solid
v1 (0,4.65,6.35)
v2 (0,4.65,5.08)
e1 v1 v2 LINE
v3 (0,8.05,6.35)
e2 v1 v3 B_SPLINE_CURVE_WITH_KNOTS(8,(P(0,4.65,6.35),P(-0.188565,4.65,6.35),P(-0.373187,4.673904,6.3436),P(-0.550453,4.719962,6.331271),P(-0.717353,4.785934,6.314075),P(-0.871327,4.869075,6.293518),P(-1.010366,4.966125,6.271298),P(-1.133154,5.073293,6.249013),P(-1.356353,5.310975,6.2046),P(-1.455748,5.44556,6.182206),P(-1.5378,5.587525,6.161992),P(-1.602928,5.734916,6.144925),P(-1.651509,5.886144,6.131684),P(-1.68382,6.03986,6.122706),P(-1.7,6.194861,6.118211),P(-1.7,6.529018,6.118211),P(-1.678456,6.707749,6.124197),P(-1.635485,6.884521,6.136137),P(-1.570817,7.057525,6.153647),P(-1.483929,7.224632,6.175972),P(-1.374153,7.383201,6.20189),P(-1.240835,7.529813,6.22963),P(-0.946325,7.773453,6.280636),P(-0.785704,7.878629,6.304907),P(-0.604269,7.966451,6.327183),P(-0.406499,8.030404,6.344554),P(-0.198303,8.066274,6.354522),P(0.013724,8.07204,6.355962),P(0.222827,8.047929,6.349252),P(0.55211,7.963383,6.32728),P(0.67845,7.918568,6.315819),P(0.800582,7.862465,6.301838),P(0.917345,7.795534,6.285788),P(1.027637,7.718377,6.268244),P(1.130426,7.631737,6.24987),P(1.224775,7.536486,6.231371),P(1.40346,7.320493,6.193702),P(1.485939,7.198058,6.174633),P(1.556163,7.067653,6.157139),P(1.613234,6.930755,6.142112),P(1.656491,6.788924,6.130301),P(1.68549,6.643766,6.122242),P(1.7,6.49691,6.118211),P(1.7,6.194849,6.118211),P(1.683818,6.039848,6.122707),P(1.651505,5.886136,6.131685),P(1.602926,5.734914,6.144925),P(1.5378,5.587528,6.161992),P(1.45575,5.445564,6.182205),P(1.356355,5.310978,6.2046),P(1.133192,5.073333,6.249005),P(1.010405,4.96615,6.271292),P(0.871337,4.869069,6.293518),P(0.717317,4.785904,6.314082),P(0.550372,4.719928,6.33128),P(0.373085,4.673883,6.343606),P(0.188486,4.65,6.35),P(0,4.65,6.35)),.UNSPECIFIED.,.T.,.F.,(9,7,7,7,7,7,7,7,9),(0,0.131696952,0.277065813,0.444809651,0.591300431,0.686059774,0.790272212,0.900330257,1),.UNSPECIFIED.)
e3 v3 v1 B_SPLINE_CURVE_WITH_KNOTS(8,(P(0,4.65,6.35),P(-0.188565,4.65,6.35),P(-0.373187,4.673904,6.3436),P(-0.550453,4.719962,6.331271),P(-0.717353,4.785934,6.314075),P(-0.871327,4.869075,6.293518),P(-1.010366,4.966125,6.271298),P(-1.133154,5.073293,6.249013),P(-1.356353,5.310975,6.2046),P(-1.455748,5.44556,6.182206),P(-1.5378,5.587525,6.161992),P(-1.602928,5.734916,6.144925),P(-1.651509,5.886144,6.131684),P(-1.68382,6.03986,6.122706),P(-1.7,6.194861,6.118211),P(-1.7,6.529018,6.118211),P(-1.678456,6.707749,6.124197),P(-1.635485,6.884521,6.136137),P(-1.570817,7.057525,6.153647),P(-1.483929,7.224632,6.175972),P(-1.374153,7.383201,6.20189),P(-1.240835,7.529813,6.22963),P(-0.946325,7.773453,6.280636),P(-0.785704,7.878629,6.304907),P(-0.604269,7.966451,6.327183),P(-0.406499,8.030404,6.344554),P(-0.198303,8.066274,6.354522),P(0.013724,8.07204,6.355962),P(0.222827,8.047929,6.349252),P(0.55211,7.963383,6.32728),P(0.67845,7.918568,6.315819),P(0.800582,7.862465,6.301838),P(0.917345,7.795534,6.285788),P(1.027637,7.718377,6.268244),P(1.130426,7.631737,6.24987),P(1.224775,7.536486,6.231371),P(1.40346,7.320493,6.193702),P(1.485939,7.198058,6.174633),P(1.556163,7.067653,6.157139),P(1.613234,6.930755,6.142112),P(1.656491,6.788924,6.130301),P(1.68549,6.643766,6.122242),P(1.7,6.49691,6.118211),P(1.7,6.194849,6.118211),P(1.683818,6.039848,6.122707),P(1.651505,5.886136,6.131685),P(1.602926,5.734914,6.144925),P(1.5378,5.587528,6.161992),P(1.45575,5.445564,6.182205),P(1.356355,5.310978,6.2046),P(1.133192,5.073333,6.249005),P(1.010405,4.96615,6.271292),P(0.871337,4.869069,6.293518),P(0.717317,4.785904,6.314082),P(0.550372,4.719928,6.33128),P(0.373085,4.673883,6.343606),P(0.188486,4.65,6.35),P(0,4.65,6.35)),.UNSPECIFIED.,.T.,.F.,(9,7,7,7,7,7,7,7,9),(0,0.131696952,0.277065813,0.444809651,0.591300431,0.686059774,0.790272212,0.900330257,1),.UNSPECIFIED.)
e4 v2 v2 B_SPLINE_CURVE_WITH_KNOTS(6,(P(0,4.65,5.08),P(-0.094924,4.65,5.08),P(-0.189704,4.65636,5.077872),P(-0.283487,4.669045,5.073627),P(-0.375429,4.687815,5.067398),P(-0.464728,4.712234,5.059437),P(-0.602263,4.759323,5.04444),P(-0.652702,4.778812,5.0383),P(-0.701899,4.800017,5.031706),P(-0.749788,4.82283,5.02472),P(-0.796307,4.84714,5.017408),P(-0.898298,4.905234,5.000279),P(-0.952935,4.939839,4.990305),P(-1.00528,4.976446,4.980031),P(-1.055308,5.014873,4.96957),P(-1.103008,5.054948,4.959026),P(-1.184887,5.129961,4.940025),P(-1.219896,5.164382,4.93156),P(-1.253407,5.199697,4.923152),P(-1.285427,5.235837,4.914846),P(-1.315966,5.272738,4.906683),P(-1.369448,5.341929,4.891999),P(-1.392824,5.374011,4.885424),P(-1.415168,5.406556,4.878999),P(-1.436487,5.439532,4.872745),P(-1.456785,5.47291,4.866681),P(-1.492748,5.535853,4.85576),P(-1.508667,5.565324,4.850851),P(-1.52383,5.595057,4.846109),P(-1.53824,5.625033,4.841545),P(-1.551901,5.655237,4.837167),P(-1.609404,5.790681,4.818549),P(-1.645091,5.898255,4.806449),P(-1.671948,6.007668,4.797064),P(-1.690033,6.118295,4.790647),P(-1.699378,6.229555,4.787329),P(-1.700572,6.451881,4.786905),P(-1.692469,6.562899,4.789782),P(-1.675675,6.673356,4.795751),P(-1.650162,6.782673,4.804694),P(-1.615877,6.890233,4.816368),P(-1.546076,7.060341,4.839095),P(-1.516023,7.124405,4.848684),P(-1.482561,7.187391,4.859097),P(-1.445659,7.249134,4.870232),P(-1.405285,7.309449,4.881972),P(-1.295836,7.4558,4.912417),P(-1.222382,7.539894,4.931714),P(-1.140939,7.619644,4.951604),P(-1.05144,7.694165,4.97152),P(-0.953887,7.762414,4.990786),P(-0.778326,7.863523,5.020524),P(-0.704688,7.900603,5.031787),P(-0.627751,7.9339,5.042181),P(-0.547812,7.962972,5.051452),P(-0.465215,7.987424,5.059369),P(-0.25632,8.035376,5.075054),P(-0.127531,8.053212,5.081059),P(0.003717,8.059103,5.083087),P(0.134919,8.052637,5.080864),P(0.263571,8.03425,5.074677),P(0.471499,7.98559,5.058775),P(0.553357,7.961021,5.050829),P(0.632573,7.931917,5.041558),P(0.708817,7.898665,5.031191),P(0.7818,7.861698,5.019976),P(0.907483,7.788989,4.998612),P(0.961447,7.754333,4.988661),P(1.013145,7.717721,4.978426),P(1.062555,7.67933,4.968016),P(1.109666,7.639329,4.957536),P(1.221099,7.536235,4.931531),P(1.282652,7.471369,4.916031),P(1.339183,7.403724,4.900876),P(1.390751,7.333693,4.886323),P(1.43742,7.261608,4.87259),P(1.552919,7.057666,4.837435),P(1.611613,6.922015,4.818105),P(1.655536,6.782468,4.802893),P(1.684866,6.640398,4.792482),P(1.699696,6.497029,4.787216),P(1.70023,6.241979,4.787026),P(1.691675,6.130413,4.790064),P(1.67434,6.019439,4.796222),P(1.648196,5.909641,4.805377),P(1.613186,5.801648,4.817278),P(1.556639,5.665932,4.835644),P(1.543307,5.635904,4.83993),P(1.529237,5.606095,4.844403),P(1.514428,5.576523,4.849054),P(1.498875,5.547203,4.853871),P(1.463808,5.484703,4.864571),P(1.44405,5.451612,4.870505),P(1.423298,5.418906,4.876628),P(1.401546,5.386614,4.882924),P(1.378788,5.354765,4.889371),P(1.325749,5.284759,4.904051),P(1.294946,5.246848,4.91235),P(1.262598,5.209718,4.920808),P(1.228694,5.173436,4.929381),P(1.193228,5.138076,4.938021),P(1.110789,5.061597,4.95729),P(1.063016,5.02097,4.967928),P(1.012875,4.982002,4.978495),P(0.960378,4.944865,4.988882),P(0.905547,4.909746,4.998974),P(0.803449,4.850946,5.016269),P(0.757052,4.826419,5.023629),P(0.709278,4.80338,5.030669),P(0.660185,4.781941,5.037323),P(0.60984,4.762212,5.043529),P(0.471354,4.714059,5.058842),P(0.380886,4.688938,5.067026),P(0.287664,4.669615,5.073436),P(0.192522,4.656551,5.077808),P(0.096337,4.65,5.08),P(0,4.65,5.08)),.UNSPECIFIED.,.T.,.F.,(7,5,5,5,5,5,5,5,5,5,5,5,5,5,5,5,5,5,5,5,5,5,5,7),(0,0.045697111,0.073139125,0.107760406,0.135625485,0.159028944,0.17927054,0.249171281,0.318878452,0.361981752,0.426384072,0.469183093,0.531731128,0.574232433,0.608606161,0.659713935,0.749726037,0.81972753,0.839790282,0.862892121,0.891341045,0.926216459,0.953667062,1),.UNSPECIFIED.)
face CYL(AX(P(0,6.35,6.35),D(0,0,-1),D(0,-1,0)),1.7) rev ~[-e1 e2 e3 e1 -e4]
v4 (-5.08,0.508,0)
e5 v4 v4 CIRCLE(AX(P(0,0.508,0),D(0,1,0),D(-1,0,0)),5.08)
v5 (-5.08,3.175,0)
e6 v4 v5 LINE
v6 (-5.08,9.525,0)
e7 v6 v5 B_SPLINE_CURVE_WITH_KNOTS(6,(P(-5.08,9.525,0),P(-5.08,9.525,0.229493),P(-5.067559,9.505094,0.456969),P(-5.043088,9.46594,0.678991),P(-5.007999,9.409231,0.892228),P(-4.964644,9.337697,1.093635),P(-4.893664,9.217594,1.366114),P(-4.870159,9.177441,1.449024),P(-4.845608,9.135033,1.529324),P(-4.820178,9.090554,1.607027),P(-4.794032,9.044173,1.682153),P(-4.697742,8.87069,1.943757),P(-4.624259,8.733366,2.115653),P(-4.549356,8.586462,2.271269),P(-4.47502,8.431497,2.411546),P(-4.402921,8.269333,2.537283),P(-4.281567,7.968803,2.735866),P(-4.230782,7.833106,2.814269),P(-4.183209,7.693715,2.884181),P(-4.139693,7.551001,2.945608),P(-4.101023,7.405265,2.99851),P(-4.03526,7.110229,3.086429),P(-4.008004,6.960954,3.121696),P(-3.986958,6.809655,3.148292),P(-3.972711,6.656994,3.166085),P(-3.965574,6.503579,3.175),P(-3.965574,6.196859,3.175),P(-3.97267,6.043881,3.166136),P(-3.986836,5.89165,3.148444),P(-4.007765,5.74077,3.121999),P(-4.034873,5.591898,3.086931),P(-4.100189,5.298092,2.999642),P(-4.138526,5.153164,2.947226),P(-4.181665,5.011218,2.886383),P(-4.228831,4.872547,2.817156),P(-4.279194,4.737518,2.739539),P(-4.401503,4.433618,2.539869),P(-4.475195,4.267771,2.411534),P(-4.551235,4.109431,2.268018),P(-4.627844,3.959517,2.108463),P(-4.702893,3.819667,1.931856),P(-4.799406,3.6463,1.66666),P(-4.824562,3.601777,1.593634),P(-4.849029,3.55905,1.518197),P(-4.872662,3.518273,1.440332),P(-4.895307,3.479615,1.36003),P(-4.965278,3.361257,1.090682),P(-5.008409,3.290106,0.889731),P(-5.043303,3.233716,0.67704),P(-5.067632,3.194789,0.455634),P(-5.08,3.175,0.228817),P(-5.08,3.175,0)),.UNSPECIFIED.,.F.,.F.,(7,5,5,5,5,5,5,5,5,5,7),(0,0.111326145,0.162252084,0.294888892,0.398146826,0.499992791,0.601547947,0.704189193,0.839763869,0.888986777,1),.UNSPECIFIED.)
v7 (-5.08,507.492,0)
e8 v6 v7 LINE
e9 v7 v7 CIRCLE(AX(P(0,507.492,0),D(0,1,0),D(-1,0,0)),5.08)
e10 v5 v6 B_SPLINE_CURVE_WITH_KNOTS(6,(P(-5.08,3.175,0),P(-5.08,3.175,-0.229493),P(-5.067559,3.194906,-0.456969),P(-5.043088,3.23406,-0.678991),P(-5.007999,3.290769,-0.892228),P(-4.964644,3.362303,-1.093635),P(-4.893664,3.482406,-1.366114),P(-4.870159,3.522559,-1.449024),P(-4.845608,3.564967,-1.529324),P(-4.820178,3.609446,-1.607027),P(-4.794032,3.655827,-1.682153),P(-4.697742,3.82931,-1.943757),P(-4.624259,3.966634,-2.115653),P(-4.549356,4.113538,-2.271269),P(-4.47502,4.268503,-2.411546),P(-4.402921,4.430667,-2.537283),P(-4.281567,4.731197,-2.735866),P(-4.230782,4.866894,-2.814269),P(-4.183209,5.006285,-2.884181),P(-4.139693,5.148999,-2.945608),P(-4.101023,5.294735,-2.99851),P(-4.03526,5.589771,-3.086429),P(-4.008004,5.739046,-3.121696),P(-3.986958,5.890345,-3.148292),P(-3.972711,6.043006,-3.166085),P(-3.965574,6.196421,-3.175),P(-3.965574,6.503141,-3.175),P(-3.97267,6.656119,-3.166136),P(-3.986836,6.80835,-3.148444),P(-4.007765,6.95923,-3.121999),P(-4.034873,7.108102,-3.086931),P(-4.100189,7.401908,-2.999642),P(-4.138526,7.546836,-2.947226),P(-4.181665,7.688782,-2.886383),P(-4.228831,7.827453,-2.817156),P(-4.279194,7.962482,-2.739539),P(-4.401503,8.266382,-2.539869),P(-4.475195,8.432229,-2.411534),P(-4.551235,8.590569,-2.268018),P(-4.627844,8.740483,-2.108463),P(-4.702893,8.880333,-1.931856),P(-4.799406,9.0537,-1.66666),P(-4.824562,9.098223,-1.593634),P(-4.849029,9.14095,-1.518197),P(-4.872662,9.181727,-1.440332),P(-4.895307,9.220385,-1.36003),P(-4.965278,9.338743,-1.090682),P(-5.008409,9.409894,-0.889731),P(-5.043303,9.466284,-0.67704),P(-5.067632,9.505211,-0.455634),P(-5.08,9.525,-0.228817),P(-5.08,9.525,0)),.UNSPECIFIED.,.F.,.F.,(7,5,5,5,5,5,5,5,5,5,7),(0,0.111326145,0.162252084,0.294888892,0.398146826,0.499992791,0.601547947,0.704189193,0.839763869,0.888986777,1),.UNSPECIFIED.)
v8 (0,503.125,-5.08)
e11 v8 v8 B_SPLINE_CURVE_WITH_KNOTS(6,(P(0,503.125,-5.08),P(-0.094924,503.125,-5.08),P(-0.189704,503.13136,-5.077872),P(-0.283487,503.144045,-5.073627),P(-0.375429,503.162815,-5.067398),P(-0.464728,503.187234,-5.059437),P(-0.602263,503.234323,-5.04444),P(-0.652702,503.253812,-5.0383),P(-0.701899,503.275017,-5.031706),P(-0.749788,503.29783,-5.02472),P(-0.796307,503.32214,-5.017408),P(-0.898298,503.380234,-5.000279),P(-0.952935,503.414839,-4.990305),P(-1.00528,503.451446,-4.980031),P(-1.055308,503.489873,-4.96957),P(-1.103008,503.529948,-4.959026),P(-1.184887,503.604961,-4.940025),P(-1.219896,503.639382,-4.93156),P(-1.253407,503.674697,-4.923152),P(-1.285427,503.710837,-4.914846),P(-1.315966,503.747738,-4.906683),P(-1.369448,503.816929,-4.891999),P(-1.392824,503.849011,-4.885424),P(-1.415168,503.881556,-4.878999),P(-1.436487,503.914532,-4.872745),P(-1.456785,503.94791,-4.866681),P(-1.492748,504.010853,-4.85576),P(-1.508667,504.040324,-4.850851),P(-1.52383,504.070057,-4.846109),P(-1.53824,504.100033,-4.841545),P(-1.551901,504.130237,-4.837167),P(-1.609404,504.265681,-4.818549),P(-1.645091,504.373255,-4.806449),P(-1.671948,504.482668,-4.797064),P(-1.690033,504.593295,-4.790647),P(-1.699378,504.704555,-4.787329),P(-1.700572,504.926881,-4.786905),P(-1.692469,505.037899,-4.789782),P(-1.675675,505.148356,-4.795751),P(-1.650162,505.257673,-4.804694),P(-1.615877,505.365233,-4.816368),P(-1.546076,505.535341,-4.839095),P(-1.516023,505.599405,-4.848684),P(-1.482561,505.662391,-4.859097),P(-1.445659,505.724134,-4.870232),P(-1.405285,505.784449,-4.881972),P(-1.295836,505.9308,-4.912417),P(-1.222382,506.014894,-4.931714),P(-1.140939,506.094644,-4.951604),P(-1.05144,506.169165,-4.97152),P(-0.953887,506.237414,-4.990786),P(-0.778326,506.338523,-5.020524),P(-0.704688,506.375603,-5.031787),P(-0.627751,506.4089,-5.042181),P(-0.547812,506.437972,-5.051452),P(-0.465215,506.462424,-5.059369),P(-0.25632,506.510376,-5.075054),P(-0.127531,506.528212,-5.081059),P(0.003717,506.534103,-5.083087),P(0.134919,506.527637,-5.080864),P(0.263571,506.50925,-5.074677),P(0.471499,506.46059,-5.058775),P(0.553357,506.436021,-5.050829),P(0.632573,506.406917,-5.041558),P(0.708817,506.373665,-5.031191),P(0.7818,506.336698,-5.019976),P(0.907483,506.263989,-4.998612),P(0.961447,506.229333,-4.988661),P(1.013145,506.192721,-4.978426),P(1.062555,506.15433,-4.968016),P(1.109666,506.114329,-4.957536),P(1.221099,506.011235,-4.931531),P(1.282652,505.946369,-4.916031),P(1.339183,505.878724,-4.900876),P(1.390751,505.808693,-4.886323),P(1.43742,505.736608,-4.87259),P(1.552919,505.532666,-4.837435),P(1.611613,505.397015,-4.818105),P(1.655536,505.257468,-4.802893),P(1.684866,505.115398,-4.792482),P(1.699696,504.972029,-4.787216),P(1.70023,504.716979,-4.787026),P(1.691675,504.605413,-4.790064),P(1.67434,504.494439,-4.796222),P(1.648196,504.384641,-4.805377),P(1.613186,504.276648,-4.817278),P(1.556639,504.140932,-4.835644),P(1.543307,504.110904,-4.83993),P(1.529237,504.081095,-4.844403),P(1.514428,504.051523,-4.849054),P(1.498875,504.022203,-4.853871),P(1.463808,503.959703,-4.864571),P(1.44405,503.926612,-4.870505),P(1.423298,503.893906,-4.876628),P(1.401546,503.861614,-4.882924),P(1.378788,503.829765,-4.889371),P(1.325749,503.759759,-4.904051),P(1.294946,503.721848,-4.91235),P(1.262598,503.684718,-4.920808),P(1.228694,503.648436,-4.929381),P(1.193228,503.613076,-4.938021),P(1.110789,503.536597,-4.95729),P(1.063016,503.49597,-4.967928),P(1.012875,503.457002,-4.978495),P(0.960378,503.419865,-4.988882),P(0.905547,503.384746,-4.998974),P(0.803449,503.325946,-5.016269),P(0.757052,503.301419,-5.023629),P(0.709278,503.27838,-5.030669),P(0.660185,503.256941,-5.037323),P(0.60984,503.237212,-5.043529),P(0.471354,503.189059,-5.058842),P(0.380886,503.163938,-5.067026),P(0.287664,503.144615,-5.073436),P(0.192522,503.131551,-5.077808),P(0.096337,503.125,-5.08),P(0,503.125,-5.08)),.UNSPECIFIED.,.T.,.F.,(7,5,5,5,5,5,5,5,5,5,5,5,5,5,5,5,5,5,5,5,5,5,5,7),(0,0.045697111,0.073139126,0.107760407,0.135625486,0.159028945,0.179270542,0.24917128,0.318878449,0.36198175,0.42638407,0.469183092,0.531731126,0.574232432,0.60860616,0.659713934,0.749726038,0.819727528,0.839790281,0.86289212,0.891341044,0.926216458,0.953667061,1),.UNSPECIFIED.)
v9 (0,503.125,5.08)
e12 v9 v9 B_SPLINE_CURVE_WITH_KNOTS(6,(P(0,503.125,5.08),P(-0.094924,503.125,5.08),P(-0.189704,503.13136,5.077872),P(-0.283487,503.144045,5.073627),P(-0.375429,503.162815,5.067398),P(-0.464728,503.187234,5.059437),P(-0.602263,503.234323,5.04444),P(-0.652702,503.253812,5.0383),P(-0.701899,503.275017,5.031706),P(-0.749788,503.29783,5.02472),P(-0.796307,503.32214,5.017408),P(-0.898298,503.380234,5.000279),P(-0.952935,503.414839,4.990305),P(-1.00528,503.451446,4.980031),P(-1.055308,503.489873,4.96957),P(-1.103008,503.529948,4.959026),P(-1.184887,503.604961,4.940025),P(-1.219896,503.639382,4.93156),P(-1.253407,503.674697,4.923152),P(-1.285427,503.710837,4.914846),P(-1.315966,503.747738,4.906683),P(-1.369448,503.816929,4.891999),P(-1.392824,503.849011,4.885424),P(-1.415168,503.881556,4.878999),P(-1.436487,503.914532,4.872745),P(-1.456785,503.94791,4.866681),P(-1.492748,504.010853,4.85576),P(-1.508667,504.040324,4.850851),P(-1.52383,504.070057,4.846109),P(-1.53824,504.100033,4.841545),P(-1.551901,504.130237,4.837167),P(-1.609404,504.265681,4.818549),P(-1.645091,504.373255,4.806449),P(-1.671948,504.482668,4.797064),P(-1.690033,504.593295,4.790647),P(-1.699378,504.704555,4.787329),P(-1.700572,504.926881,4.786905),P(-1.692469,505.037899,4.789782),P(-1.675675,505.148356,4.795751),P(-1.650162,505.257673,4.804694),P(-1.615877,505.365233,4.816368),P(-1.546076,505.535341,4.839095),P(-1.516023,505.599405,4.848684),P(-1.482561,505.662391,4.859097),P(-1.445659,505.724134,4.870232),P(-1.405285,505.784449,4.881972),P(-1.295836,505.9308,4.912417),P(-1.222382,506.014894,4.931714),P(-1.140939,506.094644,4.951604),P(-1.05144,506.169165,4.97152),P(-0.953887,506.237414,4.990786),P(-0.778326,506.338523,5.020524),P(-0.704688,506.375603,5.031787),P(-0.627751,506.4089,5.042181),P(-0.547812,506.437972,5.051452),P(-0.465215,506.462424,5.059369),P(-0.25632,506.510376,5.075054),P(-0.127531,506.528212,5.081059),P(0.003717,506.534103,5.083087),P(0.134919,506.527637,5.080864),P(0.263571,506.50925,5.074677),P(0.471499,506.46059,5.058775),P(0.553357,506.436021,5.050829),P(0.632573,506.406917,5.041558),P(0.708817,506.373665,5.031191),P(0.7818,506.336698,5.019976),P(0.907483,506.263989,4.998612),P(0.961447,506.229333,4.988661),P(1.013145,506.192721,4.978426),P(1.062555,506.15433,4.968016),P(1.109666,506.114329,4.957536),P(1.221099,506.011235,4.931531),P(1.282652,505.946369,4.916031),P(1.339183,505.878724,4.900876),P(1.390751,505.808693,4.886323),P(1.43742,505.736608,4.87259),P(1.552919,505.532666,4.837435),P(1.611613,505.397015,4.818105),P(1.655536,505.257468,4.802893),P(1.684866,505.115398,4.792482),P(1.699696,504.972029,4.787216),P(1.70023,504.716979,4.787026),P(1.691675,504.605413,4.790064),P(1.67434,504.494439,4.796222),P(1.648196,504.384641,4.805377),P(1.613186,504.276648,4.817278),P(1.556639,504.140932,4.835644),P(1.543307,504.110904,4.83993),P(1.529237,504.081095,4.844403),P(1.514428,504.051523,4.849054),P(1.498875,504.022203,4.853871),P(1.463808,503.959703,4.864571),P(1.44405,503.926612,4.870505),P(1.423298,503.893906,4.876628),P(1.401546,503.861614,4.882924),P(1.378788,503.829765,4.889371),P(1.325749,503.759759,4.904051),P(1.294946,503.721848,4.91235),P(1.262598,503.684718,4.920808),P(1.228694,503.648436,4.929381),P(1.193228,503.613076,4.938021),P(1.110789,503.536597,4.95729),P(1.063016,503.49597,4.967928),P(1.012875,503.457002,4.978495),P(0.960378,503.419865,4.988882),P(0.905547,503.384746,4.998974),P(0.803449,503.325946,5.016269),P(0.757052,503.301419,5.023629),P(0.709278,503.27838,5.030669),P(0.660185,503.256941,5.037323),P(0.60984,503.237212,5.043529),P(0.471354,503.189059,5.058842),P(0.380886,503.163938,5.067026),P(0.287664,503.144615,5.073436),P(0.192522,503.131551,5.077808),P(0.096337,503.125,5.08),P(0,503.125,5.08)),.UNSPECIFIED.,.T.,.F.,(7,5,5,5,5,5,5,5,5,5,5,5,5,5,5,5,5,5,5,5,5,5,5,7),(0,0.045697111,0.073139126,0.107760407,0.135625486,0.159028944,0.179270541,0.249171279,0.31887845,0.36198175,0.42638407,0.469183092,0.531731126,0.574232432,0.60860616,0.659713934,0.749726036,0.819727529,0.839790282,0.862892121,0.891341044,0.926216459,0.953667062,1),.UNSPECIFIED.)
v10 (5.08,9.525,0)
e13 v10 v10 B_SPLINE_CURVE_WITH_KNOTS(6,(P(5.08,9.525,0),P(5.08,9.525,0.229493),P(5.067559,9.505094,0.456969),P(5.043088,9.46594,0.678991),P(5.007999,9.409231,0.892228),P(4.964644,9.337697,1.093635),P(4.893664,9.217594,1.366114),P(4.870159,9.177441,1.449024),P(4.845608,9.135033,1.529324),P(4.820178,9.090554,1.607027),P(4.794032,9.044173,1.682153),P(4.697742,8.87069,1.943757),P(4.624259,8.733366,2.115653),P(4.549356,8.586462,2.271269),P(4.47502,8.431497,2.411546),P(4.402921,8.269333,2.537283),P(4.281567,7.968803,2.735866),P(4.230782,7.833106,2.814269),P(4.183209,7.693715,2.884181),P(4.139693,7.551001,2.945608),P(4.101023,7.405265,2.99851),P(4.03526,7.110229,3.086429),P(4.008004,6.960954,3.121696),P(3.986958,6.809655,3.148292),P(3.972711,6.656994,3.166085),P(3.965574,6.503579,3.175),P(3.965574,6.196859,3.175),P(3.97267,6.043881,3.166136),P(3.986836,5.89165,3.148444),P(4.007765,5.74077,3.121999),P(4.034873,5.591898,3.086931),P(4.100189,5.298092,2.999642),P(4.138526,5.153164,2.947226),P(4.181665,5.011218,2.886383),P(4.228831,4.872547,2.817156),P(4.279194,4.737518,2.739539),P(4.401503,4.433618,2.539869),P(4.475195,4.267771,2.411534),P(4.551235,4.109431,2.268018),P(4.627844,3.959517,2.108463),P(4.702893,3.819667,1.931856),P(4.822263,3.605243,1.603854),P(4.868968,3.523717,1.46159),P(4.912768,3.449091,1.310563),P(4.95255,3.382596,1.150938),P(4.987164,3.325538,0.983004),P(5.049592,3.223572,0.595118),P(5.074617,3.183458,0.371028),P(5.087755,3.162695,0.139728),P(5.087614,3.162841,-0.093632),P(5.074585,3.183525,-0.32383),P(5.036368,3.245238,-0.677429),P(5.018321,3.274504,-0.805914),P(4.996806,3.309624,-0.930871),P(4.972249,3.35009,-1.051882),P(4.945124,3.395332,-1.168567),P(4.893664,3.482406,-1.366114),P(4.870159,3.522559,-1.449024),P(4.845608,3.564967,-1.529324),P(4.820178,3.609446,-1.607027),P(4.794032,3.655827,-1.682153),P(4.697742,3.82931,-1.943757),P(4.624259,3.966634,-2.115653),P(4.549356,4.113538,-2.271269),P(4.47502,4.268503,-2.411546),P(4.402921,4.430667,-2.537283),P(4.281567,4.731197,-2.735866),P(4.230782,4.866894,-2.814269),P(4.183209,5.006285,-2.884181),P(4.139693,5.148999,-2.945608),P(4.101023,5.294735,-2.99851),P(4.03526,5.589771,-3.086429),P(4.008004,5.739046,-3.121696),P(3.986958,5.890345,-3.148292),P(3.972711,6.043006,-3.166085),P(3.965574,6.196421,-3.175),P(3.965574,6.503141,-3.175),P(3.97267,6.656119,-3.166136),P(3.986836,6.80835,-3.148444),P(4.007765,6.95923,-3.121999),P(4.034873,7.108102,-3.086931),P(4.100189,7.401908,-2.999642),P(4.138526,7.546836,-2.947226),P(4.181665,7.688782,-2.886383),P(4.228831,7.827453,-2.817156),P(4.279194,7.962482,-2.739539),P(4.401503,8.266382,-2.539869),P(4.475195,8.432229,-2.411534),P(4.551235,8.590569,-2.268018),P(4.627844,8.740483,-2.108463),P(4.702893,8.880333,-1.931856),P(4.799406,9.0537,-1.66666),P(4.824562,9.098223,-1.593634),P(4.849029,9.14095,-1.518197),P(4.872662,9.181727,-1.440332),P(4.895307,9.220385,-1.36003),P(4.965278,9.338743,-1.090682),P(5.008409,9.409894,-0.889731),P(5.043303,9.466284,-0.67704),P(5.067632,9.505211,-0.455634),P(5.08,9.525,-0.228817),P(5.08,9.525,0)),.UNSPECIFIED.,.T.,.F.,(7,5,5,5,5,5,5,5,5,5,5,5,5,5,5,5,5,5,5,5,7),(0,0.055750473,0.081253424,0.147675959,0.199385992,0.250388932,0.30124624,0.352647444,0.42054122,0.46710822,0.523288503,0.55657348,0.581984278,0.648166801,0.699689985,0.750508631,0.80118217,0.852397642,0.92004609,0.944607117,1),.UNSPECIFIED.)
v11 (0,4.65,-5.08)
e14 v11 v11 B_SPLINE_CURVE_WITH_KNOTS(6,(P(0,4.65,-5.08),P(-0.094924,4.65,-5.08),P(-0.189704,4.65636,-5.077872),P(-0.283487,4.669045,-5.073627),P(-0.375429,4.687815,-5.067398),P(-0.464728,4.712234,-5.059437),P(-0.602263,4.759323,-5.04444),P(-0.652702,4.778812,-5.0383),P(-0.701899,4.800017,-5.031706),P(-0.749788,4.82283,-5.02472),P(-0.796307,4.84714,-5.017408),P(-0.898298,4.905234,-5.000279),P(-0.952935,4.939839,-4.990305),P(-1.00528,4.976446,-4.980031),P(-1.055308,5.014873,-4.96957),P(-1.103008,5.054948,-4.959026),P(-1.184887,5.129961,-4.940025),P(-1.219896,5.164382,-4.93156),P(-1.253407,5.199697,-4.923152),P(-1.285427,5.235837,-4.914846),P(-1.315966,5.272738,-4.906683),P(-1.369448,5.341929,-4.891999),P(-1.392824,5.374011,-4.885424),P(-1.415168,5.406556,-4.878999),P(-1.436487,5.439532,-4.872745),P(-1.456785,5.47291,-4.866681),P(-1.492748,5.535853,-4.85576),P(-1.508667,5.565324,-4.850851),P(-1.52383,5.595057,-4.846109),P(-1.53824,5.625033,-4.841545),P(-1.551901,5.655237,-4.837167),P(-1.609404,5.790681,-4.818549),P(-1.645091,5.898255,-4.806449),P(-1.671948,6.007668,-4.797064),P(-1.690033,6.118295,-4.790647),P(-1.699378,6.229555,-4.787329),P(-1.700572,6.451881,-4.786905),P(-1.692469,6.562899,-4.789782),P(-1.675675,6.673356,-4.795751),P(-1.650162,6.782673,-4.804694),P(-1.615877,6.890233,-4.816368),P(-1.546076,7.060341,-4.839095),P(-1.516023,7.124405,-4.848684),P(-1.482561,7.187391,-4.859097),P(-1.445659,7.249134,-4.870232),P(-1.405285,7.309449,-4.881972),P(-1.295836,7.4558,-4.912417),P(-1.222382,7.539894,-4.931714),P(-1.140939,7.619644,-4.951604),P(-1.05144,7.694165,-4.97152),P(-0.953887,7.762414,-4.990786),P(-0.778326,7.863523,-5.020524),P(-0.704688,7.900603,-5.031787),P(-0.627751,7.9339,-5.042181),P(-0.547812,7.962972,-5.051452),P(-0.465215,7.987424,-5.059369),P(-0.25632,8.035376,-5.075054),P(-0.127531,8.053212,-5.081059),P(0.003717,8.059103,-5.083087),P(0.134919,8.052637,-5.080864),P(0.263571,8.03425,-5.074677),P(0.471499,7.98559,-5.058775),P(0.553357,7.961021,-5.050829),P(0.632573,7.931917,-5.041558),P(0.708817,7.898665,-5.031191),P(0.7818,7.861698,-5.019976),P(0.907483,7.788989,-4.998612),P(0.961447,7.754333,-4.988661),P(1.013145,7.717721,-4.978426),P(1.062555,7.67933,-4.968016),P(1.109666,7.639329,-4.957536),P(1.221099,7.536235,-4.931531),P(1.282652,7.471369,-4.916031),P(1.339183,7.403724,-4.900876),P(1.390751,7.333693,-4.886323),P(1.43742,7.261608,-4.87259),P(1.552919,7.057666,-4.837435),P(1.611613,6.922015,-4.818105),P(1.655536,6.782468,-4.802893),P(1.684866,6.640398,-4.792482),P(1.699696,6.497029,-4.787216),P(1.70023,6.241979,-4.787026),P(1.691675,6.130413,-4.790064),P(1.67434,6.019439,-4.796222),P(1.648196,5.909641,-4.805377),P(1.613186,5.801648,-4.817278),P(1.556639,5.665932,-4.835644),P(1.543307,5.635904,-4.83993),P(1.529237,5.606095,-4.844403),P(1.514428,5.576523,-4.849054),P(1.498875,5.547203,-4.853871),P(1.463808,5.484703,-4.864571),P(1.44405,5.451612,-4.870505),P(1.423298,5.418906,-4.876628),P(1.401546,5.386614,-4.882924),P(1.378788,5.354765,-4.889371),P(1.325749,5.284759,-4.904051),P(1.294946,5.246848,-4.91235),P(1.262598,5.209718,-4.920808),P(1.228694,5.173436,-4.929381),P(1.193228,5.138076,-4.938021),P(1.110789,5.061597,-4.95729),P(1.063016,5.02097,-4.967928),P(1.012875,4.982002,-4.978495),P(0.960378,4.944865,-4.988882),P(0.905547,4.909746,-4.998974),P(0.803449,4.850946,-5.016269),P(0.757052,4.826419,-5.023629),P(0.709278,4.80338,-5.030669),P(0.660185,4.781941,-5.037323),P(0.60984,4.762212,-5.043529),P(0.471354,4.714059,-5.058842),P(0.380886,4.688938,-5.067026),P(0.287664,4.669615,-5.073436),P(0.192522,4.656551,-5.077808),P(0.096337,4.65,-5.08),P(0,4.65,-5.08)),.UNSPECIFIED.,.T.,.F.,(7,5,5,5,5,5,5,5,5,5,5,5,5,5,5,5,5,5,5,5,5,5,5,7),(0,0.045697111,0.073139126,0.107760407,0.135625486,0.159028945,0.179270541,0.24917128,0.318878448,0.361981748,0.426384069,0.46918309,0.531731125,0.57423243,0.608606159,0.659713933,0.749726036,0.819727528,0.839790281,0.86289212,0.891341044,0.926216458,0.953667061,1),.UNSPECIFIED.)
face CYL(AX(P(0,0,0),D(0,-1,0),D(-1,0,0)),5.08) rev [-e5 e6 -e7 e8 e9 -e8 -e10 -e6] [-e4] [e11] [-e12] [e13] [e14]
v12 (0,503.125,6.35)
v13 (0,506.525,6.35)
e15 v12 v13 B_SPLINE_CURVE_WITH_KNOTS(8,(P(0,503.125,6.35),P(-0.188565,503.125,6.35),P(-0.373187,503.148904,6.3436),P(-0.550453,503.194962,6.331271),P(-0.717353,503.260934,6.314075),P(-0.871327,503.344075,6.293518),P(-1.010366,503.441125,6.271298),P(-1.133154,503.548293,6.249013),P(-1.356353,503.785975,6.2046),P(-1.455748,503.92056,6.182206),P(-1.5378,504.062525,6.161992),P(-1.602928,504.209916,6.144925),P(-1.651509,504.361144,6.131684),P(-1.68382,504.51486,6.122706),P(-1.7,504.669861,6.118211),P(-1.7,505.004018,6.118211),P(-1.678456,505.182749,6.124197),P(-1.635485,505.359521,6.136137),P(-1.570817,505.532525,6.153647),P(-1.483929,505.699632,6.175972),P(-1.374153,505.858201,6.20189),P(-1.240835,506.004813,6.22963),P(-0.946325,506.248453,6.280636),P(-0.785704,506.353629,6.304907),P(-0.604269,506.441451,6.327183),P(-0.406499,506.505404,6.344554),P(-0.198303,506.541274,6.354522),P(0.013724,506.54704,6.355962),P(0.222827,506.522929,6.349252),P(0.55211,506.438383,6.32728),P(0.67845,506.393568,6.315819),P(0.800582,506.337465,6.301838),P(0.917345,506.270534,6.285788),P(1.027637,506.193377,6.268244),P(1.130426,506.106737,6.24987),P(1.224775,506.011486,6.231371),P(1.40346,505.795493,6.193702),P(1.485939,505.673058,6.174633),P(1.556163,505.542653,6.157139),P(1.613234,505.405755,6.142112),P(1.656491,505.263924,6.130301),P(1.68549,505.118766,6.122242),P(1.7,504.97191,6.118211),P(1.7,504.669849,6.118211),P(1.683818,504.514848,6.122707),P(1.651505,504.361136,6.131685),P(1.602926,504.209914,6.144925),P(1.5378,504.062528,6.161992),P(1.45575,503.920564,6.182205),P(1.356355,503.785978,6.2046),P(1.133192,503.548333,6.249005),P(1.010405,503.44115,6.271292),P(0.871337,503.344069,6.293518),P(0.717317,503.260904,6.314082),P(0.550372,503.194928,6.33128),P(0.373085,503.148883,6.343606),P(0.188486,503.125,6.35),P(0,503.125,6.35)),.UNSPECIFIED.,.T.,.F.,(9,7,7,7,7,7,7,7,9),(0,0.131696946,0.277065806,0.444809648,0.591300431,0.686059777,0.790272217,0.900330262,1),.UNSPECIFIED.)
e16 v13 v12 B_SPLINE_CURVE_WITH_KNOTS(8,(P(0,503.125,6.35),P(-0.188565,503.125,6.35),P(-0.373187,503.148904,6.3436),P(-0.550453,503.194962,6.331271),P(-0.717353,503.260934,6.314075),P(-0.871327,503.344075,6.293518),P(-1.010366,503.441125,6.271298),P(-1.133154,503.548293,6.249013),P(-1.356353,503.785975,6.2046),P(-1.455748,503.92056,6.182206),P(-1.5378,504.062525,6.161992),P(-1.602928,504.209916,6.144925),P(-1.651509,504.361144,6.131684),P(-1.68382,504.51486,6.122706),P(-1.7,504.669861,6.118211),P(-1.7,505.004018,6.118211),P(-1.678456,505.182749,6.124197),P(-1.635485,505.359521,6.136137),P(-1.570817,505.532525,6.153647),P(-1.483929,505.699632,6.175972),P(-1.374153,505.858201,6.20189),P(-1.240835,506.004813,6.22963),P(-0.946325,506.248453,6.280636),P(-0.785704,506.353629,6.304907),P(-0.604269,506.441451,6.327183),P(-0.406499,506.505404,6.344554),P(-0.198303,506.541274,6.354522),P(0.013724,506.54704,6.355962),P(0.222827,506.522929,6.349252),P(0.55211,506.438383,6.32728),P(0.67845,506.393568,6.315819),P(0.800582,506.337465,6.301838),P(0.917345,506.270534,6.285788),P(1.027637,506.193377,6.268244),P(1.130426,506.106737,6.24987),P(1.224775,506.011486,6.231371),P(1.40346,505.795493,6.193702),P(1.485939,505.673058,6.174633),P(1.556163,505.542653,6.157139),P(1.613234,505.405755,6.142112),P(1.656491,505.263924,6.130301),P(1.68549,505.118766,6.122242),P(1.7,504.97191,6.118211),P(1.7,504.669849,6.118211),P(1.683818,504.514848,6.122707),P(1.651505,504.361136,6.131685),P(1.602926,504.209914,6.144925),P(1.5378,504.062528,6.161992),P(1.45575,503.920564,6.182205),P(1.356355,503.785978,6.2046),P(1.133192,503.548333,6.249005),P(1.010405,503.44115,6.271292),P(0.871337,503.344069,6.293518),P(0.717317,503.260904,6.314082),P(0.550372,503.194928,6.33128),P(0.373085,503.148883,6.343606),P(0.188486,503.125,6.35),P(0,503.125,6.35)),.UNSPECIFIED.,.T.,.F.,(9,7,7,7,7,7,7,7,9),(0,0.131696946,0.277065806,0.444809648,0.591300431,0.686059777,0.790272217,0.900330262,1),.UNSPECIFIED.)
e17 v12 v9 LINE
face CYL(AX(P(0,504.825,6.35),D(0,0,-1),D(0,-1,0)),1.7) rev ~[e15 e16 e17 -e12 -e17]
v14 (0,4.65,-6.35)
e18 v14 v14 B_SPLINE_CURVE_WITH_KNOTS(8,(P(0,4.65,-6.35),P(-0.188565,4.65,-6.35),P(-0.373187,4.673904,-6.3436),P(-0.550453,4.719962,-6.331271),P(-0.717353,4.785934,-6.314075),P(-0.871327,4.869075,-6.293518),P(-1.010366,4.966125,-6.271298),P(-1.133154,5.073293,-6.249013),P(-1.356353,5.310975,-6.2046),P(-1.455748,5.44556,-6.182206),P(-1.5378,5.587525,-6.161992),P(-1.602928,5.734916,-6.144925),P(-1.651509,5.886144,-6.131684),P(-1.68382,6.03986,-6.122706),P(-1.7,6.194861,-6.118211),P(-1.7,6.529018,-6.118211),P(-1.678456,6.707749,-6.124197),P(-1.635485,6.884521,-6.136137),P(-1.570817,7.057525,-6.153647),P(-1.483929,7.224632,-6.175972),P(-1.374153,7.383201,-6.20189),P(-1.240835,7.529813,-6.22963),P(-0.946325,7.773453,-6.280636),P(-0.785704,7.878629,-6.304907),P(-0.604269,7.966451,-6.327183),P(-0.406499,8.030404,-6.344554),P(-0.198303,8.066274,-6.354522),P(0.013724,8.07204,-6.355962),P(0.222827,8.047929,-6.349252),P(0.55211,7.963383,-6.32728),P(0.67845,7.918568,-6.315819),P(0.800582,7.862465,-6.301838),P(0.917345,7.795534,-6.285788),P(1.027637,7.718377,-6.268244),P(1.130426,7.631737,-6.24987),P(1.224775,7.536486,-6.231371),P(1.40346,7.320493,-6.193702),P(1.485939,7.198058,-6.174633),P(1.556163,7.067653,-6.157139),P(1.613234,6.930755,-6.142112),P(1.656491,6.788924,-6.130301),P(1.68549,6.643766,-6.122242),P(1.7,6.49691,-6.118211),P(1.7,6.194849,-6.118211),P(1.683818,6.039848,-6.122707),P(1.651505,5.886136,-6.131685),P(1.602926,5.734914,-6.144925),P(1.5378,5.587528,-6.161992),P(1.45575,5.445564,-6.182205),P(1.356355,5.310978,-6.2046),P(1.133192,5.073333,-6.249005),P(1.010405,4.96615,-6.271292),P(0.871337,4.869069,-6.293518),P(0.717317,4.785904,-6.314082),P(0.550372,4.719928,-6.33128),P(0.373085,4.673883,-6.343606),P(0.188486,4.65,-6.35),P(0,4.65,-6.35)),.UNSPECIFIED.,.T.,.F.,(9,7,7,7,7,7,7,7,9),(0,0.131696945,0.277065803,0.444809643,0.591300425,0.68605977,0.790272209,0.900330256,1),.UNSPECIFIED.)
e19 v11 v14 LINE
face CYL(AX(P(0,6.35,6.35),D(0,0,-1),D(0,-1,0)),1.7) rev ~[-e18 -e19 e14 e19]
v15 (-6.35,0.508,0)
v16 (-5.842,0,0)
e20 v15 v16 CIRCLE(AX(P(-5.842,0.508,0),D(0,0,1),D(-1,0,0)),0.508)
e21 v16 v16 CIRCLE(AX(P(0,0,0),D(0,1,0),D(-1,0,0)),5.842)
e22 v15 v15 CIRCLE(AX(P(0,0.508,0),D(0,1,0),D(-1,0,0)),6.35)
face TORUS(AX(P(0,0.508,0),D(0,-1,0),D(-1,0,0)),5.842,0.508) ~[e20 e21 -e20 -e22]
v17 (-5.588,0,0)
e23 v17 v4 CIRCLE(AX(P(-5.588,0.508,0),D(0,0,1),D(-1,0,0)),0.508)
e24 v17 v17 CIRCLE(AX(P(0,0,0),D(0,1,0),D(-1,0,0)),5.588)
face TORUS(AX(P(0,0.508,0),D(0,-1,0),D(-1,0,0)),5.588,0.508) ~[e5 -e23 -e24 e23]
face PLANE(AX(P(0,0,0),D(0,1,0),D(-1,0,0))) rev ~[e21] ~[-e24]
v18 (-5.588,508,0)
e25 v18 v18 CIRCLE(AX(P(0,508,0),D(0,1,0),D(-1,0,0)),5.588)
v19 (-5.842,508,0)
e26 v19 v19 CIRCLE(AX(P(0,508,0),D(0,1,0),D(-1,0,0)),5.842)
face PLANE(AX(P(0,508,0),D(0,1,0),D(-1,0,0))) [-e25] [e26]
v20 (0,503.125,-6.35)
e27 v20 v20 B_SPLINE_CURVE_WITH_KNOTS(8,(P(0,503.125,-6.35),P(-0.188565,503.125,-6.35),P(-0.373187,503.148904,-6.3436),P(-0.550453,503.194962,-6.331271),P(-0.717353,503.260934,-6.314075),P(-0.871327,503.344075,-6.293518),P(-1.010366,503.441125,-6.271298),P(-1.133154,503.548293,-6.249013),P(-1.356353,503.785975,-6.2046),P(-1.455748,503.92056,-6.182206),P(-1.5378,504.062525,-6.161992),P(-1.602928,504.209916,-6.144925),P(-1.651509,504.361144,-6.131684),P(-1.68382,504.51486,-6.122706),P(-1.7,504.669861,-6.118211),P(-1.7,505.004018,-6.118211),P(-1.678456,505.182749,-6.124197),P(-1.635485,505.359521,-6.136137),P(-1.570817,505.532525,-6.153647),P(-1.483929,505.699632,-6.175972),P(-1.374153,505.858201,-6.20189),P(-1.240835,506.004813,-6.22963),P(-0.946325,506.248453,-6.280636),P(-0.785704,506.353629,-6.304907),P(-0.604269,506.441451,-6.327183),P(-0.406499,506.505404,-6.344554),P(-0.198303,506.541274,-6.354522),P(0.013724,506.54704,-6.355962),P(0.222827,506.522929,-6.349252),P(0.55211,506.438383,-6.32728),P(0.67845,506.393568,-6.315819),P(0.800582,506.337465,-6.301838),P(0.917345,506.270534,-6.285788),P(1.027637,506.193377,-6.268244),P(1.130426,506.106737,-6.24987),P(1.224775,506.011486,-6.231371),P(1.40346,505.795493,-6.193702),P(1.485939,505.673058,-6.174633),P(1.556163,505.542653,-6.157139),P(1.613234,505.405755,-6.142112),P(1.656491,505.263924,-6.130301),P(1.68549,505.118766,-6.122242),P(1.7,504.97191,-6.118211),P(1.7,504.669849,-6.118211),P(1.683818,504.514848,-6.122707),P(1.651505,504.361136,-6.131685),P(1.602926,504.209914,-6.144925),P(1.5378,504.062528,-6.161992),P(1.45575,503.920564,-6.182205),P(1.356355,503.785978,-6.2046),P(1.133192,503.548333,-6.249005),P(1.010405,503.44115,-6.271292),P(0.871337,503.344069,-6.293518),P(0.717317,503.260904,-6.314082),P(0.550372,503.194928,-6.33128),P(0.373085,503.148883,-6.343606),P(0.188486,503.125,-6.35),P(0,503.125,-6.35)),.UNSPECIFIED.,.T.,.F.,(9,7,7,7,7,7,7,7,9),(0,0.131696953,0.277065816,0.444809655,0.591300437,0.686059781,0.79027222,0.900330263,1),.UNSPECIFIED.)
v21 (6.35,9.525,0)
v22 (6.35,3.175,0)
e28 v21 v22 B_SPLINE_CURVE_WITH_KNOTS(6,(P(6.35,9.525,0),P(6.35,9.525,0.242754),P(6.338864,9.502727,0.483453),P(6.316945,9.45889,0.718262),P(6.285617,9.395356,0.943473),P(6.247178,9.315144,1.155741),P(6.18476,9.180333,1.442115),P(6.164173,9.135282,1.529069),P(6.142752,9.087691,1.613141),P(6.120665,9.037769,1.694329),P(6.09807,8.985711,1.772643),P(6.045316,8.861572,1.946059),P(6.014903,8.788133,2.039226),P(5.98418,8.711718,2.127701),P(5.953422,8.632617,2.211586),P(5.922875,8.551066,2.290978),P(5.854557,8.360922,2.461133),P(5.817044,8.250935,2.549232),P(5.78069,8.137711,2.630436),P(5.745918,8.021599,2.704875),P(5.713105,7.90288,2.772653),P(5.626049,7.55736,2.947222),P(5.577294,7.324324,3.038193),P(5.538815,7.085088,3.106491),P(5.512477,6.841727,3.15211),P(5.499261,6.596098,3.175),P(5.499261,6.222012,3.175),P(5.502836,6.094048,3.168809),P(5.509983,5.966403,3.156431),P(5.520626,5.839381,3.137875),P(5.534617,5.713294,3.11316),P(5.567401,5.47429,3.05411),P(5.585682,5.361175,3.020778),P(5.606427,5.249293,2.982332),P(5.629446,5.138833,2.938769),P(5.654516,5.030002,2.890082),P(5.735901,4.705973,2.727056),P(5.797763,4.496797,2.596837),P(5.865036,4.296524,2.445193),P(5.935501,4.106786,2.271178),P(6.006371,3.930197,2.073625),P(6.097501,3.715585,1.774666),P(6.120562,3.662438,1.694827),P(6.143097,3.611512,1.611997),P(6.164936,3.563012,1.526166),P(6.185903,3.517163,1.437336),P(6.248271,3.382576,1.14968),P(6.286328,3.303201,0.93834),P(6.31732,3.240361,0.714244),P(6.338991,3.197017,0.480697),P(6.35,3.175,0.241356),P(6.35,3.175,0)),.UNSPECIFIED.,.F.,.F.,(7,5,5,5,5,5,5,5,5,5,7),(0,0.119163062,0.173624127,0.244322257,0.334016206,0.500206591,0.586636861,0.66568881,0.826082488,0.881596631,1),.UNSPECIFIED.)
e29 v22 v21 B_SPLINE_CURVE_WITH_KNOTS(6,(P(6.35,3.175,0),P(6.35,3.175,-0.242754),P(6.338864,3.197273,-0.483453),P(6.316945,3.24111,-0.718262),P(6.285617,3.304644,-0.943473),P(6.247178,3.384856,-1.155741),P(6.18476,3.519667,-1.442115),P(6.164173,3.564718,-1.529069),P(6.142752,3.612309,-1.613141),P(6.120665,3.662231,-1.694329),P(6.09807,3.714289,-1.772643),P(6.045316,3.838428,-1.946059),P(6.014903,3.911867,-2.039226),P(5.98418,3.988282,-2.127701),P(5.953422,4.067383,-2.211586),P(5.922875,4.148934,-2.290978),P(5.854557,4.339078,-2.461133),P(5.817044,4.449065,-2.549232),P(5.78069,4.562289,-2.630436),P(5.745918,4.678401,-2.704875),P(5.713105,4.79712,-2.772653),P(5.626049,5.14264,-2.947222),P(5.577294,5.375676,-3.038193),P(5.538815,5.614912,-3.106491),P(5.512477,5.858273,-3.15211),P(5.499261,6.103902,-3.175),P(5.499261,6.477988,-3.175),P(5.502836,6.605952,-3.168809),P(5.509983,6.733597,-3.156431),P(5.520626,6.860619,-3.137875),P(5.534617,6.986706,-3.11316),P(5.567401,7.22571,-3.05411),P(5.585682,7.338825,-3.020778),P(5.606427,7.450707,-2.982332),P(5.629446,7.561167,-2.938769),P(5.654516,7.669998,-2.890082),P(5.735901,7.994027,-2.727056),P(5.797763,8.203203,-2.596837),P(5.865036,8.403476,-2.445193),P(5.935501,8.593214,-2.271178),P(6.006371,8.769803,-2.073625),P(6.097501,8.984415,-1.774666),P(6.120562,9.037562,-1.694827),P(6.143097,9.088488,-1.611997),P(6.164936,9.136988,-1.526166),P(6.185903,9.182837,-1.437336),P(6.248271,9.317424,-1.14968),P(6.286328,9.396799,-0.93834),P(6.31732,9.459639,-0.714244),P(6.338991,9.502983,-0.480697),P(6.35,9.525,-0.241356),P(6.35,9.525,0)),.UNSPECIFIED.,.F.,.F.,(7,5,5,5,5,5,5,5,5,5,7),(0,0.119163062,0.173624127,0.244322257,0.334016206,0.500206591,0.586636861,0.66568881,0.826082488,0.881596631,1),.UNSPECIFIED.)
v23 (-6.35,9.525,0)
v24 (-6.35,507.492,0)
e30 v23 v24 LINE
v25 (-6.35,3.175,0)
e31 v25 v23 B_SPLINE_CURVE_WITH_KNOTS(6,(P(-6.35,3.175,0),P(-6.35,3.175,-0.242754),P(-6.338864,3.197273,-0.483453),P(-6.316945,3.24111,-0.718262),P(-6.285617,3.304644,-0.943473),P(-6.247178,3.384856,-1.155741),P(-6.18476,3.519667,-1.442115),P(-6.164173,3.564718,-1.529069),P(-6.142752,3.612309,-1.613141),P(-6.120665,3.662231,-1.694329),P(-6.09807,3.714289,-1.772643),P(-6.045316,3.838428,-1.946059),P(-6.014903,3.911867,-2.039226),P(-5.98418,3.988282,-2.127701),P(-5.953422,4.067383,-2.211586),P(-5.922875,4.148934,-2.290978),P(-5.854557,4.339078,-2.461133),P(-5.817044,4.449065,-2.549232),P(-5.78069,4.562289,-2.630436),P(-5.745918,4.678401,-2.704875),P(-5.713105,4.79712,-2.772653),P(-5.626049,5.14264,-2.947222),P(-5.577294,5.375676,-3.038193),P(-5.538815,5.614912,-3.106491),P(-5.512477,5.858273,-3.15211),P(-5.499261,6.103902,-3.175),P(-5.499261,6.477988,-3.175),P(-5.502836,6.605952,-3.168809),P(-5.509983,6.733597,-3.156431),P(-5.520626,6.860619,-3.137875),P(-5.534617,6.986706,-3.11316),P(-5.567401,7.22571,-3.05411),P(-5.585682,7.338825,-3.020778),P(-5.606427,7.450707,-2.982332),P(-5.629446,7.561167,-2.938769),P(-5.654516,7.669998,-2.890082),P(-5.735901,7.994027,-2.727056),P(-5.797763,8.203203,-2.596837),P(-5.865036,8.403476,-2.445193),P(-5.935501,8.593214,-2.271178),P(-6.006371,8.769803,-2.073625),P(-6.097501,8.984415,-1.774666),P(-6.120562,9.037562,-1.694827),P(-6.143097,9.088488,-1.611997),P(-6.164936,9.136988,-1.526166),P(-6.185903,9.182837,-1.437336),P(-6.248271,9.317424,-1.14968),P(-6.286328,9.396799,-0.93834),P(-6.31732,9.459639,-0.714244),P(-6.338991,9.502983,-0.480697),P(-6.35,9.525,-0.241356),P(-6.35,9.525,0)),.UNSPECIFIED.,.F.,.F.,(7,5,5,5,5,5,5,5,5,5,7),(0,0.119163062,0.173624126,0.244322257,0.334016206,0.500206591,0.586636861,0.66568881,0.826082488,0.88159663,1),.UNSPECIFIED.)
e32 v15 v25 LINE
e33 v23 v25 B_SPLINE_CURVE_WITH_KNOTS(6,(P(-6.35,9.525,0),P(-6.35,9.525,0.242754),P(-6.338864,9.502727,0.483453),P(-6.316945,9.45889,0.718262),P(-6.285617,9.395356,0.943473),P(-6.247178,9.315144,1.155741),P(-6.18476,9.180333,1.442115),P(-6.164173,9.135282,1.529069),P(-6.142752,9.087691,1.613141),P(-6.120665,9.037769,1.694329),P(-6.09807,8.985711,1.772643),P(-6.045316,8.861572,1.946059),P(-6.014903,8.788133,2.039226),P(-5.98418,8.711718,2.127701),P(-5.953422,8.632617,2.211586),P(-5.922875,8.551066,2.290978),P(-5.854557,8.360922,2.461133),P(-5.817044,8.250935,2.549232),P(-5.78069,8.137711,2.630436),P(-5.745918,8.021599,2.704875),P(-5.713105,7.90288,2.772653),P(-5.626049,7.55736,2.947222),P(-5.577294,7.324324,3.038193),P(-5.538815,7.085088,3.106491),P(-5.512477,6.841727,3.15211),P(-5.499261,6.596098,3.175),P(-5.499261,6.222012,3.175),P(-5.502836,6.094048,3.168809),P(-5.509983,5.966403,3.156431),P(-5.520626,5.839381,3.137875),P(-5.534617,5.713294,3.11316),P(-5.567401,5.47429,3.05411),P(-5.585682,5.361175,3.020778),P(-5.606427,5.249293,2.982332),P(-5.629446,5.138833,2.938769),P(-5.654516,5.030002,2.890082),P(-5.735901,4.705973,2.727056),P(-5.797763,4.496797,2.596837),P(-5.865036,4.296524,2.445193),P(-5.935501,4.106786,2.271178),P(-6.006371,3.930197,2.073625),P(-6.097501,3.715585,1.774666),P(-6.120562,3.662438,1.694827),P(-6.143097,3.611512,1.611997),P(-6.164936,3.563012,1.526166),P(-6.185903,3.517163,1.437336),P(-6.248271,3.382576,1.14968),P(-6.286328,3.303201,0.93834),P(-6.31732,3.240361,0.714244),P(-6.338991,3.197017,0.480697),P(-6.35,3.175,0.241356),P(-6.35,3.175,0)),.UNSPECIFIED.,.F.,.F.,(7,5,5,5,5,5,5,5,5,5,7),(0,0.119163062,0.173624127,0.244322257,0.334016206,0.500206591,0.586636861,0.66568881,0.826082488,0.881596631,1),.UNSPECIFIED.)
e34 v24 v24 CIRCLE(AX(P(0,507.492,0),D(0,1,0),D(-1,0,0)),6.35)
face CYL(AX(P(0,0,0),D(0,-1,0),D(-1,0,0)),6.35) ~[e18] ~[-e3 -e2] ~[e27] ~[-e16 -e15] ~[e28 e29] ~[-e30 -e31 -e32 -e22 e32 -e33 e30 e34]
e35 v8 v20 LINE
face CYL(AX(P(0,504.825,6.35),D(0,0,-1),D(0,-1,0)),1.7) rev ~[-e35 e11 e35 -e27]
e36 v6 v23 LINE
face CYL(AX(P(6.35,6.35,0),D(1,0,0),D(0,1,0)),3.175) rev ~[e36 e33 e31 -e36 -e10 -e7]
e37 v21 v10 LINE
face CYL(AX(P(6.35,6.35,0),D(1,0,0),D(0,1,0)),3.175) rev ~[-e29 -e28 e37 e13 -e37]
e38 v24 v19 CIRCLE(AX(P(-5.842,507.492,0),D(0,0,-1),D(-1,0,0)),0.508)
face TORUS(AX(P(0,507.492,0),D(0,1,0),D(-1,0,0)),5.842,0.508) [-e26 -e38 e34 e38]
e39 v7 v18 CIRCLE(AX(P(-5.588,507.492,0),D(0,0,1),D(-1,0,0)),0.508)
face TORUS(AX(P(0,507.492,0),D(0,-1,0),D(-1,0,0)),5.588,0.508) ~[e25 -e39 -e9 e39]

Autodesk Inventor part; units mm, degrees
ref_plane "XZ Plane" through (0, 0, 0) normal (0, 1, 0) x (-1, 0, 0)
sketch "Sketch1" plane through (0, 0, 0) normal (0, 1, 0) x (-1, 0, 0)
  circle A0 centre (0, 0) radius 6.35
  circle A1 centre (0, 0) radius 5.08
  dimension "d0" = 12.7
  dimension "d1" = 1.27
extrude "Extrusion1" add sketch "Sketch1" along normal blind 508
fillet "Fillet1" radius 0.508 2 edges at (6.35, 508, 0) (5.08, 508, 0)
fillet "Fillet2" radius 0.508 2 edges at (6.35, 0, 0) (5.08, 0, 0)
ref_plane "Work Plane1" through (6.35, 0, 0) normal (1, 0, 0) x (0, 1, 0)
sketch "Sketch2" plane through (6.35, 0, 0) normal (1, 0, 0) x (0, 1, 0)
  circle A0 centre (6.35, 0) radius 3.175
  point P0 (0, 0)
  dimension "d7" = 6.35
  dimension "d8" = 6.35
extrude "Extrusion2" cut sketch "Sketch2" against normal blind 25.4
ref_plane "Work Plane2" through (0, 0, 6.35) normal (0, 0, 1) x (1, 0, 0)
sketch "Sketch3" plane through (0, 0, 6.35) normal (0, 0, 1) x (1, 0, 0)
  circle A0 centre (0, 6.35) radius 0.6302
  point P0 (0, 0)
  dimension "d12" = 6.35
hole "Hole1" at (0, 6.35, 6.35) direction (0, 0, -1) diameter 3.4 depth 25.4 tip angle 118 clearance for "Socket Head Cap Screw" size "M3" standard "Ansi Metric M Profile"
sketch "Sketch5" plane through (0, 0, 6.35) normal (0, 0, 1) x (1, 0, 0)
  circle A0 centre (0, 504.825) radius 3.0853
  line L0 (-5.842, 508) -> (5.842, 508) projected
  point P0 (0, 0)
  dimension "d20" = 3.175
hole "Hole2" at (0, 504.825, 6.35) direction (0, 0, -1) diameter 3.4 depth 25.4 tip angle 118 clearance for "Socket Head Cap Screw" size "M3" standard "Ansi Metric M Profile"
properties part number "Pendulum Tubing"
